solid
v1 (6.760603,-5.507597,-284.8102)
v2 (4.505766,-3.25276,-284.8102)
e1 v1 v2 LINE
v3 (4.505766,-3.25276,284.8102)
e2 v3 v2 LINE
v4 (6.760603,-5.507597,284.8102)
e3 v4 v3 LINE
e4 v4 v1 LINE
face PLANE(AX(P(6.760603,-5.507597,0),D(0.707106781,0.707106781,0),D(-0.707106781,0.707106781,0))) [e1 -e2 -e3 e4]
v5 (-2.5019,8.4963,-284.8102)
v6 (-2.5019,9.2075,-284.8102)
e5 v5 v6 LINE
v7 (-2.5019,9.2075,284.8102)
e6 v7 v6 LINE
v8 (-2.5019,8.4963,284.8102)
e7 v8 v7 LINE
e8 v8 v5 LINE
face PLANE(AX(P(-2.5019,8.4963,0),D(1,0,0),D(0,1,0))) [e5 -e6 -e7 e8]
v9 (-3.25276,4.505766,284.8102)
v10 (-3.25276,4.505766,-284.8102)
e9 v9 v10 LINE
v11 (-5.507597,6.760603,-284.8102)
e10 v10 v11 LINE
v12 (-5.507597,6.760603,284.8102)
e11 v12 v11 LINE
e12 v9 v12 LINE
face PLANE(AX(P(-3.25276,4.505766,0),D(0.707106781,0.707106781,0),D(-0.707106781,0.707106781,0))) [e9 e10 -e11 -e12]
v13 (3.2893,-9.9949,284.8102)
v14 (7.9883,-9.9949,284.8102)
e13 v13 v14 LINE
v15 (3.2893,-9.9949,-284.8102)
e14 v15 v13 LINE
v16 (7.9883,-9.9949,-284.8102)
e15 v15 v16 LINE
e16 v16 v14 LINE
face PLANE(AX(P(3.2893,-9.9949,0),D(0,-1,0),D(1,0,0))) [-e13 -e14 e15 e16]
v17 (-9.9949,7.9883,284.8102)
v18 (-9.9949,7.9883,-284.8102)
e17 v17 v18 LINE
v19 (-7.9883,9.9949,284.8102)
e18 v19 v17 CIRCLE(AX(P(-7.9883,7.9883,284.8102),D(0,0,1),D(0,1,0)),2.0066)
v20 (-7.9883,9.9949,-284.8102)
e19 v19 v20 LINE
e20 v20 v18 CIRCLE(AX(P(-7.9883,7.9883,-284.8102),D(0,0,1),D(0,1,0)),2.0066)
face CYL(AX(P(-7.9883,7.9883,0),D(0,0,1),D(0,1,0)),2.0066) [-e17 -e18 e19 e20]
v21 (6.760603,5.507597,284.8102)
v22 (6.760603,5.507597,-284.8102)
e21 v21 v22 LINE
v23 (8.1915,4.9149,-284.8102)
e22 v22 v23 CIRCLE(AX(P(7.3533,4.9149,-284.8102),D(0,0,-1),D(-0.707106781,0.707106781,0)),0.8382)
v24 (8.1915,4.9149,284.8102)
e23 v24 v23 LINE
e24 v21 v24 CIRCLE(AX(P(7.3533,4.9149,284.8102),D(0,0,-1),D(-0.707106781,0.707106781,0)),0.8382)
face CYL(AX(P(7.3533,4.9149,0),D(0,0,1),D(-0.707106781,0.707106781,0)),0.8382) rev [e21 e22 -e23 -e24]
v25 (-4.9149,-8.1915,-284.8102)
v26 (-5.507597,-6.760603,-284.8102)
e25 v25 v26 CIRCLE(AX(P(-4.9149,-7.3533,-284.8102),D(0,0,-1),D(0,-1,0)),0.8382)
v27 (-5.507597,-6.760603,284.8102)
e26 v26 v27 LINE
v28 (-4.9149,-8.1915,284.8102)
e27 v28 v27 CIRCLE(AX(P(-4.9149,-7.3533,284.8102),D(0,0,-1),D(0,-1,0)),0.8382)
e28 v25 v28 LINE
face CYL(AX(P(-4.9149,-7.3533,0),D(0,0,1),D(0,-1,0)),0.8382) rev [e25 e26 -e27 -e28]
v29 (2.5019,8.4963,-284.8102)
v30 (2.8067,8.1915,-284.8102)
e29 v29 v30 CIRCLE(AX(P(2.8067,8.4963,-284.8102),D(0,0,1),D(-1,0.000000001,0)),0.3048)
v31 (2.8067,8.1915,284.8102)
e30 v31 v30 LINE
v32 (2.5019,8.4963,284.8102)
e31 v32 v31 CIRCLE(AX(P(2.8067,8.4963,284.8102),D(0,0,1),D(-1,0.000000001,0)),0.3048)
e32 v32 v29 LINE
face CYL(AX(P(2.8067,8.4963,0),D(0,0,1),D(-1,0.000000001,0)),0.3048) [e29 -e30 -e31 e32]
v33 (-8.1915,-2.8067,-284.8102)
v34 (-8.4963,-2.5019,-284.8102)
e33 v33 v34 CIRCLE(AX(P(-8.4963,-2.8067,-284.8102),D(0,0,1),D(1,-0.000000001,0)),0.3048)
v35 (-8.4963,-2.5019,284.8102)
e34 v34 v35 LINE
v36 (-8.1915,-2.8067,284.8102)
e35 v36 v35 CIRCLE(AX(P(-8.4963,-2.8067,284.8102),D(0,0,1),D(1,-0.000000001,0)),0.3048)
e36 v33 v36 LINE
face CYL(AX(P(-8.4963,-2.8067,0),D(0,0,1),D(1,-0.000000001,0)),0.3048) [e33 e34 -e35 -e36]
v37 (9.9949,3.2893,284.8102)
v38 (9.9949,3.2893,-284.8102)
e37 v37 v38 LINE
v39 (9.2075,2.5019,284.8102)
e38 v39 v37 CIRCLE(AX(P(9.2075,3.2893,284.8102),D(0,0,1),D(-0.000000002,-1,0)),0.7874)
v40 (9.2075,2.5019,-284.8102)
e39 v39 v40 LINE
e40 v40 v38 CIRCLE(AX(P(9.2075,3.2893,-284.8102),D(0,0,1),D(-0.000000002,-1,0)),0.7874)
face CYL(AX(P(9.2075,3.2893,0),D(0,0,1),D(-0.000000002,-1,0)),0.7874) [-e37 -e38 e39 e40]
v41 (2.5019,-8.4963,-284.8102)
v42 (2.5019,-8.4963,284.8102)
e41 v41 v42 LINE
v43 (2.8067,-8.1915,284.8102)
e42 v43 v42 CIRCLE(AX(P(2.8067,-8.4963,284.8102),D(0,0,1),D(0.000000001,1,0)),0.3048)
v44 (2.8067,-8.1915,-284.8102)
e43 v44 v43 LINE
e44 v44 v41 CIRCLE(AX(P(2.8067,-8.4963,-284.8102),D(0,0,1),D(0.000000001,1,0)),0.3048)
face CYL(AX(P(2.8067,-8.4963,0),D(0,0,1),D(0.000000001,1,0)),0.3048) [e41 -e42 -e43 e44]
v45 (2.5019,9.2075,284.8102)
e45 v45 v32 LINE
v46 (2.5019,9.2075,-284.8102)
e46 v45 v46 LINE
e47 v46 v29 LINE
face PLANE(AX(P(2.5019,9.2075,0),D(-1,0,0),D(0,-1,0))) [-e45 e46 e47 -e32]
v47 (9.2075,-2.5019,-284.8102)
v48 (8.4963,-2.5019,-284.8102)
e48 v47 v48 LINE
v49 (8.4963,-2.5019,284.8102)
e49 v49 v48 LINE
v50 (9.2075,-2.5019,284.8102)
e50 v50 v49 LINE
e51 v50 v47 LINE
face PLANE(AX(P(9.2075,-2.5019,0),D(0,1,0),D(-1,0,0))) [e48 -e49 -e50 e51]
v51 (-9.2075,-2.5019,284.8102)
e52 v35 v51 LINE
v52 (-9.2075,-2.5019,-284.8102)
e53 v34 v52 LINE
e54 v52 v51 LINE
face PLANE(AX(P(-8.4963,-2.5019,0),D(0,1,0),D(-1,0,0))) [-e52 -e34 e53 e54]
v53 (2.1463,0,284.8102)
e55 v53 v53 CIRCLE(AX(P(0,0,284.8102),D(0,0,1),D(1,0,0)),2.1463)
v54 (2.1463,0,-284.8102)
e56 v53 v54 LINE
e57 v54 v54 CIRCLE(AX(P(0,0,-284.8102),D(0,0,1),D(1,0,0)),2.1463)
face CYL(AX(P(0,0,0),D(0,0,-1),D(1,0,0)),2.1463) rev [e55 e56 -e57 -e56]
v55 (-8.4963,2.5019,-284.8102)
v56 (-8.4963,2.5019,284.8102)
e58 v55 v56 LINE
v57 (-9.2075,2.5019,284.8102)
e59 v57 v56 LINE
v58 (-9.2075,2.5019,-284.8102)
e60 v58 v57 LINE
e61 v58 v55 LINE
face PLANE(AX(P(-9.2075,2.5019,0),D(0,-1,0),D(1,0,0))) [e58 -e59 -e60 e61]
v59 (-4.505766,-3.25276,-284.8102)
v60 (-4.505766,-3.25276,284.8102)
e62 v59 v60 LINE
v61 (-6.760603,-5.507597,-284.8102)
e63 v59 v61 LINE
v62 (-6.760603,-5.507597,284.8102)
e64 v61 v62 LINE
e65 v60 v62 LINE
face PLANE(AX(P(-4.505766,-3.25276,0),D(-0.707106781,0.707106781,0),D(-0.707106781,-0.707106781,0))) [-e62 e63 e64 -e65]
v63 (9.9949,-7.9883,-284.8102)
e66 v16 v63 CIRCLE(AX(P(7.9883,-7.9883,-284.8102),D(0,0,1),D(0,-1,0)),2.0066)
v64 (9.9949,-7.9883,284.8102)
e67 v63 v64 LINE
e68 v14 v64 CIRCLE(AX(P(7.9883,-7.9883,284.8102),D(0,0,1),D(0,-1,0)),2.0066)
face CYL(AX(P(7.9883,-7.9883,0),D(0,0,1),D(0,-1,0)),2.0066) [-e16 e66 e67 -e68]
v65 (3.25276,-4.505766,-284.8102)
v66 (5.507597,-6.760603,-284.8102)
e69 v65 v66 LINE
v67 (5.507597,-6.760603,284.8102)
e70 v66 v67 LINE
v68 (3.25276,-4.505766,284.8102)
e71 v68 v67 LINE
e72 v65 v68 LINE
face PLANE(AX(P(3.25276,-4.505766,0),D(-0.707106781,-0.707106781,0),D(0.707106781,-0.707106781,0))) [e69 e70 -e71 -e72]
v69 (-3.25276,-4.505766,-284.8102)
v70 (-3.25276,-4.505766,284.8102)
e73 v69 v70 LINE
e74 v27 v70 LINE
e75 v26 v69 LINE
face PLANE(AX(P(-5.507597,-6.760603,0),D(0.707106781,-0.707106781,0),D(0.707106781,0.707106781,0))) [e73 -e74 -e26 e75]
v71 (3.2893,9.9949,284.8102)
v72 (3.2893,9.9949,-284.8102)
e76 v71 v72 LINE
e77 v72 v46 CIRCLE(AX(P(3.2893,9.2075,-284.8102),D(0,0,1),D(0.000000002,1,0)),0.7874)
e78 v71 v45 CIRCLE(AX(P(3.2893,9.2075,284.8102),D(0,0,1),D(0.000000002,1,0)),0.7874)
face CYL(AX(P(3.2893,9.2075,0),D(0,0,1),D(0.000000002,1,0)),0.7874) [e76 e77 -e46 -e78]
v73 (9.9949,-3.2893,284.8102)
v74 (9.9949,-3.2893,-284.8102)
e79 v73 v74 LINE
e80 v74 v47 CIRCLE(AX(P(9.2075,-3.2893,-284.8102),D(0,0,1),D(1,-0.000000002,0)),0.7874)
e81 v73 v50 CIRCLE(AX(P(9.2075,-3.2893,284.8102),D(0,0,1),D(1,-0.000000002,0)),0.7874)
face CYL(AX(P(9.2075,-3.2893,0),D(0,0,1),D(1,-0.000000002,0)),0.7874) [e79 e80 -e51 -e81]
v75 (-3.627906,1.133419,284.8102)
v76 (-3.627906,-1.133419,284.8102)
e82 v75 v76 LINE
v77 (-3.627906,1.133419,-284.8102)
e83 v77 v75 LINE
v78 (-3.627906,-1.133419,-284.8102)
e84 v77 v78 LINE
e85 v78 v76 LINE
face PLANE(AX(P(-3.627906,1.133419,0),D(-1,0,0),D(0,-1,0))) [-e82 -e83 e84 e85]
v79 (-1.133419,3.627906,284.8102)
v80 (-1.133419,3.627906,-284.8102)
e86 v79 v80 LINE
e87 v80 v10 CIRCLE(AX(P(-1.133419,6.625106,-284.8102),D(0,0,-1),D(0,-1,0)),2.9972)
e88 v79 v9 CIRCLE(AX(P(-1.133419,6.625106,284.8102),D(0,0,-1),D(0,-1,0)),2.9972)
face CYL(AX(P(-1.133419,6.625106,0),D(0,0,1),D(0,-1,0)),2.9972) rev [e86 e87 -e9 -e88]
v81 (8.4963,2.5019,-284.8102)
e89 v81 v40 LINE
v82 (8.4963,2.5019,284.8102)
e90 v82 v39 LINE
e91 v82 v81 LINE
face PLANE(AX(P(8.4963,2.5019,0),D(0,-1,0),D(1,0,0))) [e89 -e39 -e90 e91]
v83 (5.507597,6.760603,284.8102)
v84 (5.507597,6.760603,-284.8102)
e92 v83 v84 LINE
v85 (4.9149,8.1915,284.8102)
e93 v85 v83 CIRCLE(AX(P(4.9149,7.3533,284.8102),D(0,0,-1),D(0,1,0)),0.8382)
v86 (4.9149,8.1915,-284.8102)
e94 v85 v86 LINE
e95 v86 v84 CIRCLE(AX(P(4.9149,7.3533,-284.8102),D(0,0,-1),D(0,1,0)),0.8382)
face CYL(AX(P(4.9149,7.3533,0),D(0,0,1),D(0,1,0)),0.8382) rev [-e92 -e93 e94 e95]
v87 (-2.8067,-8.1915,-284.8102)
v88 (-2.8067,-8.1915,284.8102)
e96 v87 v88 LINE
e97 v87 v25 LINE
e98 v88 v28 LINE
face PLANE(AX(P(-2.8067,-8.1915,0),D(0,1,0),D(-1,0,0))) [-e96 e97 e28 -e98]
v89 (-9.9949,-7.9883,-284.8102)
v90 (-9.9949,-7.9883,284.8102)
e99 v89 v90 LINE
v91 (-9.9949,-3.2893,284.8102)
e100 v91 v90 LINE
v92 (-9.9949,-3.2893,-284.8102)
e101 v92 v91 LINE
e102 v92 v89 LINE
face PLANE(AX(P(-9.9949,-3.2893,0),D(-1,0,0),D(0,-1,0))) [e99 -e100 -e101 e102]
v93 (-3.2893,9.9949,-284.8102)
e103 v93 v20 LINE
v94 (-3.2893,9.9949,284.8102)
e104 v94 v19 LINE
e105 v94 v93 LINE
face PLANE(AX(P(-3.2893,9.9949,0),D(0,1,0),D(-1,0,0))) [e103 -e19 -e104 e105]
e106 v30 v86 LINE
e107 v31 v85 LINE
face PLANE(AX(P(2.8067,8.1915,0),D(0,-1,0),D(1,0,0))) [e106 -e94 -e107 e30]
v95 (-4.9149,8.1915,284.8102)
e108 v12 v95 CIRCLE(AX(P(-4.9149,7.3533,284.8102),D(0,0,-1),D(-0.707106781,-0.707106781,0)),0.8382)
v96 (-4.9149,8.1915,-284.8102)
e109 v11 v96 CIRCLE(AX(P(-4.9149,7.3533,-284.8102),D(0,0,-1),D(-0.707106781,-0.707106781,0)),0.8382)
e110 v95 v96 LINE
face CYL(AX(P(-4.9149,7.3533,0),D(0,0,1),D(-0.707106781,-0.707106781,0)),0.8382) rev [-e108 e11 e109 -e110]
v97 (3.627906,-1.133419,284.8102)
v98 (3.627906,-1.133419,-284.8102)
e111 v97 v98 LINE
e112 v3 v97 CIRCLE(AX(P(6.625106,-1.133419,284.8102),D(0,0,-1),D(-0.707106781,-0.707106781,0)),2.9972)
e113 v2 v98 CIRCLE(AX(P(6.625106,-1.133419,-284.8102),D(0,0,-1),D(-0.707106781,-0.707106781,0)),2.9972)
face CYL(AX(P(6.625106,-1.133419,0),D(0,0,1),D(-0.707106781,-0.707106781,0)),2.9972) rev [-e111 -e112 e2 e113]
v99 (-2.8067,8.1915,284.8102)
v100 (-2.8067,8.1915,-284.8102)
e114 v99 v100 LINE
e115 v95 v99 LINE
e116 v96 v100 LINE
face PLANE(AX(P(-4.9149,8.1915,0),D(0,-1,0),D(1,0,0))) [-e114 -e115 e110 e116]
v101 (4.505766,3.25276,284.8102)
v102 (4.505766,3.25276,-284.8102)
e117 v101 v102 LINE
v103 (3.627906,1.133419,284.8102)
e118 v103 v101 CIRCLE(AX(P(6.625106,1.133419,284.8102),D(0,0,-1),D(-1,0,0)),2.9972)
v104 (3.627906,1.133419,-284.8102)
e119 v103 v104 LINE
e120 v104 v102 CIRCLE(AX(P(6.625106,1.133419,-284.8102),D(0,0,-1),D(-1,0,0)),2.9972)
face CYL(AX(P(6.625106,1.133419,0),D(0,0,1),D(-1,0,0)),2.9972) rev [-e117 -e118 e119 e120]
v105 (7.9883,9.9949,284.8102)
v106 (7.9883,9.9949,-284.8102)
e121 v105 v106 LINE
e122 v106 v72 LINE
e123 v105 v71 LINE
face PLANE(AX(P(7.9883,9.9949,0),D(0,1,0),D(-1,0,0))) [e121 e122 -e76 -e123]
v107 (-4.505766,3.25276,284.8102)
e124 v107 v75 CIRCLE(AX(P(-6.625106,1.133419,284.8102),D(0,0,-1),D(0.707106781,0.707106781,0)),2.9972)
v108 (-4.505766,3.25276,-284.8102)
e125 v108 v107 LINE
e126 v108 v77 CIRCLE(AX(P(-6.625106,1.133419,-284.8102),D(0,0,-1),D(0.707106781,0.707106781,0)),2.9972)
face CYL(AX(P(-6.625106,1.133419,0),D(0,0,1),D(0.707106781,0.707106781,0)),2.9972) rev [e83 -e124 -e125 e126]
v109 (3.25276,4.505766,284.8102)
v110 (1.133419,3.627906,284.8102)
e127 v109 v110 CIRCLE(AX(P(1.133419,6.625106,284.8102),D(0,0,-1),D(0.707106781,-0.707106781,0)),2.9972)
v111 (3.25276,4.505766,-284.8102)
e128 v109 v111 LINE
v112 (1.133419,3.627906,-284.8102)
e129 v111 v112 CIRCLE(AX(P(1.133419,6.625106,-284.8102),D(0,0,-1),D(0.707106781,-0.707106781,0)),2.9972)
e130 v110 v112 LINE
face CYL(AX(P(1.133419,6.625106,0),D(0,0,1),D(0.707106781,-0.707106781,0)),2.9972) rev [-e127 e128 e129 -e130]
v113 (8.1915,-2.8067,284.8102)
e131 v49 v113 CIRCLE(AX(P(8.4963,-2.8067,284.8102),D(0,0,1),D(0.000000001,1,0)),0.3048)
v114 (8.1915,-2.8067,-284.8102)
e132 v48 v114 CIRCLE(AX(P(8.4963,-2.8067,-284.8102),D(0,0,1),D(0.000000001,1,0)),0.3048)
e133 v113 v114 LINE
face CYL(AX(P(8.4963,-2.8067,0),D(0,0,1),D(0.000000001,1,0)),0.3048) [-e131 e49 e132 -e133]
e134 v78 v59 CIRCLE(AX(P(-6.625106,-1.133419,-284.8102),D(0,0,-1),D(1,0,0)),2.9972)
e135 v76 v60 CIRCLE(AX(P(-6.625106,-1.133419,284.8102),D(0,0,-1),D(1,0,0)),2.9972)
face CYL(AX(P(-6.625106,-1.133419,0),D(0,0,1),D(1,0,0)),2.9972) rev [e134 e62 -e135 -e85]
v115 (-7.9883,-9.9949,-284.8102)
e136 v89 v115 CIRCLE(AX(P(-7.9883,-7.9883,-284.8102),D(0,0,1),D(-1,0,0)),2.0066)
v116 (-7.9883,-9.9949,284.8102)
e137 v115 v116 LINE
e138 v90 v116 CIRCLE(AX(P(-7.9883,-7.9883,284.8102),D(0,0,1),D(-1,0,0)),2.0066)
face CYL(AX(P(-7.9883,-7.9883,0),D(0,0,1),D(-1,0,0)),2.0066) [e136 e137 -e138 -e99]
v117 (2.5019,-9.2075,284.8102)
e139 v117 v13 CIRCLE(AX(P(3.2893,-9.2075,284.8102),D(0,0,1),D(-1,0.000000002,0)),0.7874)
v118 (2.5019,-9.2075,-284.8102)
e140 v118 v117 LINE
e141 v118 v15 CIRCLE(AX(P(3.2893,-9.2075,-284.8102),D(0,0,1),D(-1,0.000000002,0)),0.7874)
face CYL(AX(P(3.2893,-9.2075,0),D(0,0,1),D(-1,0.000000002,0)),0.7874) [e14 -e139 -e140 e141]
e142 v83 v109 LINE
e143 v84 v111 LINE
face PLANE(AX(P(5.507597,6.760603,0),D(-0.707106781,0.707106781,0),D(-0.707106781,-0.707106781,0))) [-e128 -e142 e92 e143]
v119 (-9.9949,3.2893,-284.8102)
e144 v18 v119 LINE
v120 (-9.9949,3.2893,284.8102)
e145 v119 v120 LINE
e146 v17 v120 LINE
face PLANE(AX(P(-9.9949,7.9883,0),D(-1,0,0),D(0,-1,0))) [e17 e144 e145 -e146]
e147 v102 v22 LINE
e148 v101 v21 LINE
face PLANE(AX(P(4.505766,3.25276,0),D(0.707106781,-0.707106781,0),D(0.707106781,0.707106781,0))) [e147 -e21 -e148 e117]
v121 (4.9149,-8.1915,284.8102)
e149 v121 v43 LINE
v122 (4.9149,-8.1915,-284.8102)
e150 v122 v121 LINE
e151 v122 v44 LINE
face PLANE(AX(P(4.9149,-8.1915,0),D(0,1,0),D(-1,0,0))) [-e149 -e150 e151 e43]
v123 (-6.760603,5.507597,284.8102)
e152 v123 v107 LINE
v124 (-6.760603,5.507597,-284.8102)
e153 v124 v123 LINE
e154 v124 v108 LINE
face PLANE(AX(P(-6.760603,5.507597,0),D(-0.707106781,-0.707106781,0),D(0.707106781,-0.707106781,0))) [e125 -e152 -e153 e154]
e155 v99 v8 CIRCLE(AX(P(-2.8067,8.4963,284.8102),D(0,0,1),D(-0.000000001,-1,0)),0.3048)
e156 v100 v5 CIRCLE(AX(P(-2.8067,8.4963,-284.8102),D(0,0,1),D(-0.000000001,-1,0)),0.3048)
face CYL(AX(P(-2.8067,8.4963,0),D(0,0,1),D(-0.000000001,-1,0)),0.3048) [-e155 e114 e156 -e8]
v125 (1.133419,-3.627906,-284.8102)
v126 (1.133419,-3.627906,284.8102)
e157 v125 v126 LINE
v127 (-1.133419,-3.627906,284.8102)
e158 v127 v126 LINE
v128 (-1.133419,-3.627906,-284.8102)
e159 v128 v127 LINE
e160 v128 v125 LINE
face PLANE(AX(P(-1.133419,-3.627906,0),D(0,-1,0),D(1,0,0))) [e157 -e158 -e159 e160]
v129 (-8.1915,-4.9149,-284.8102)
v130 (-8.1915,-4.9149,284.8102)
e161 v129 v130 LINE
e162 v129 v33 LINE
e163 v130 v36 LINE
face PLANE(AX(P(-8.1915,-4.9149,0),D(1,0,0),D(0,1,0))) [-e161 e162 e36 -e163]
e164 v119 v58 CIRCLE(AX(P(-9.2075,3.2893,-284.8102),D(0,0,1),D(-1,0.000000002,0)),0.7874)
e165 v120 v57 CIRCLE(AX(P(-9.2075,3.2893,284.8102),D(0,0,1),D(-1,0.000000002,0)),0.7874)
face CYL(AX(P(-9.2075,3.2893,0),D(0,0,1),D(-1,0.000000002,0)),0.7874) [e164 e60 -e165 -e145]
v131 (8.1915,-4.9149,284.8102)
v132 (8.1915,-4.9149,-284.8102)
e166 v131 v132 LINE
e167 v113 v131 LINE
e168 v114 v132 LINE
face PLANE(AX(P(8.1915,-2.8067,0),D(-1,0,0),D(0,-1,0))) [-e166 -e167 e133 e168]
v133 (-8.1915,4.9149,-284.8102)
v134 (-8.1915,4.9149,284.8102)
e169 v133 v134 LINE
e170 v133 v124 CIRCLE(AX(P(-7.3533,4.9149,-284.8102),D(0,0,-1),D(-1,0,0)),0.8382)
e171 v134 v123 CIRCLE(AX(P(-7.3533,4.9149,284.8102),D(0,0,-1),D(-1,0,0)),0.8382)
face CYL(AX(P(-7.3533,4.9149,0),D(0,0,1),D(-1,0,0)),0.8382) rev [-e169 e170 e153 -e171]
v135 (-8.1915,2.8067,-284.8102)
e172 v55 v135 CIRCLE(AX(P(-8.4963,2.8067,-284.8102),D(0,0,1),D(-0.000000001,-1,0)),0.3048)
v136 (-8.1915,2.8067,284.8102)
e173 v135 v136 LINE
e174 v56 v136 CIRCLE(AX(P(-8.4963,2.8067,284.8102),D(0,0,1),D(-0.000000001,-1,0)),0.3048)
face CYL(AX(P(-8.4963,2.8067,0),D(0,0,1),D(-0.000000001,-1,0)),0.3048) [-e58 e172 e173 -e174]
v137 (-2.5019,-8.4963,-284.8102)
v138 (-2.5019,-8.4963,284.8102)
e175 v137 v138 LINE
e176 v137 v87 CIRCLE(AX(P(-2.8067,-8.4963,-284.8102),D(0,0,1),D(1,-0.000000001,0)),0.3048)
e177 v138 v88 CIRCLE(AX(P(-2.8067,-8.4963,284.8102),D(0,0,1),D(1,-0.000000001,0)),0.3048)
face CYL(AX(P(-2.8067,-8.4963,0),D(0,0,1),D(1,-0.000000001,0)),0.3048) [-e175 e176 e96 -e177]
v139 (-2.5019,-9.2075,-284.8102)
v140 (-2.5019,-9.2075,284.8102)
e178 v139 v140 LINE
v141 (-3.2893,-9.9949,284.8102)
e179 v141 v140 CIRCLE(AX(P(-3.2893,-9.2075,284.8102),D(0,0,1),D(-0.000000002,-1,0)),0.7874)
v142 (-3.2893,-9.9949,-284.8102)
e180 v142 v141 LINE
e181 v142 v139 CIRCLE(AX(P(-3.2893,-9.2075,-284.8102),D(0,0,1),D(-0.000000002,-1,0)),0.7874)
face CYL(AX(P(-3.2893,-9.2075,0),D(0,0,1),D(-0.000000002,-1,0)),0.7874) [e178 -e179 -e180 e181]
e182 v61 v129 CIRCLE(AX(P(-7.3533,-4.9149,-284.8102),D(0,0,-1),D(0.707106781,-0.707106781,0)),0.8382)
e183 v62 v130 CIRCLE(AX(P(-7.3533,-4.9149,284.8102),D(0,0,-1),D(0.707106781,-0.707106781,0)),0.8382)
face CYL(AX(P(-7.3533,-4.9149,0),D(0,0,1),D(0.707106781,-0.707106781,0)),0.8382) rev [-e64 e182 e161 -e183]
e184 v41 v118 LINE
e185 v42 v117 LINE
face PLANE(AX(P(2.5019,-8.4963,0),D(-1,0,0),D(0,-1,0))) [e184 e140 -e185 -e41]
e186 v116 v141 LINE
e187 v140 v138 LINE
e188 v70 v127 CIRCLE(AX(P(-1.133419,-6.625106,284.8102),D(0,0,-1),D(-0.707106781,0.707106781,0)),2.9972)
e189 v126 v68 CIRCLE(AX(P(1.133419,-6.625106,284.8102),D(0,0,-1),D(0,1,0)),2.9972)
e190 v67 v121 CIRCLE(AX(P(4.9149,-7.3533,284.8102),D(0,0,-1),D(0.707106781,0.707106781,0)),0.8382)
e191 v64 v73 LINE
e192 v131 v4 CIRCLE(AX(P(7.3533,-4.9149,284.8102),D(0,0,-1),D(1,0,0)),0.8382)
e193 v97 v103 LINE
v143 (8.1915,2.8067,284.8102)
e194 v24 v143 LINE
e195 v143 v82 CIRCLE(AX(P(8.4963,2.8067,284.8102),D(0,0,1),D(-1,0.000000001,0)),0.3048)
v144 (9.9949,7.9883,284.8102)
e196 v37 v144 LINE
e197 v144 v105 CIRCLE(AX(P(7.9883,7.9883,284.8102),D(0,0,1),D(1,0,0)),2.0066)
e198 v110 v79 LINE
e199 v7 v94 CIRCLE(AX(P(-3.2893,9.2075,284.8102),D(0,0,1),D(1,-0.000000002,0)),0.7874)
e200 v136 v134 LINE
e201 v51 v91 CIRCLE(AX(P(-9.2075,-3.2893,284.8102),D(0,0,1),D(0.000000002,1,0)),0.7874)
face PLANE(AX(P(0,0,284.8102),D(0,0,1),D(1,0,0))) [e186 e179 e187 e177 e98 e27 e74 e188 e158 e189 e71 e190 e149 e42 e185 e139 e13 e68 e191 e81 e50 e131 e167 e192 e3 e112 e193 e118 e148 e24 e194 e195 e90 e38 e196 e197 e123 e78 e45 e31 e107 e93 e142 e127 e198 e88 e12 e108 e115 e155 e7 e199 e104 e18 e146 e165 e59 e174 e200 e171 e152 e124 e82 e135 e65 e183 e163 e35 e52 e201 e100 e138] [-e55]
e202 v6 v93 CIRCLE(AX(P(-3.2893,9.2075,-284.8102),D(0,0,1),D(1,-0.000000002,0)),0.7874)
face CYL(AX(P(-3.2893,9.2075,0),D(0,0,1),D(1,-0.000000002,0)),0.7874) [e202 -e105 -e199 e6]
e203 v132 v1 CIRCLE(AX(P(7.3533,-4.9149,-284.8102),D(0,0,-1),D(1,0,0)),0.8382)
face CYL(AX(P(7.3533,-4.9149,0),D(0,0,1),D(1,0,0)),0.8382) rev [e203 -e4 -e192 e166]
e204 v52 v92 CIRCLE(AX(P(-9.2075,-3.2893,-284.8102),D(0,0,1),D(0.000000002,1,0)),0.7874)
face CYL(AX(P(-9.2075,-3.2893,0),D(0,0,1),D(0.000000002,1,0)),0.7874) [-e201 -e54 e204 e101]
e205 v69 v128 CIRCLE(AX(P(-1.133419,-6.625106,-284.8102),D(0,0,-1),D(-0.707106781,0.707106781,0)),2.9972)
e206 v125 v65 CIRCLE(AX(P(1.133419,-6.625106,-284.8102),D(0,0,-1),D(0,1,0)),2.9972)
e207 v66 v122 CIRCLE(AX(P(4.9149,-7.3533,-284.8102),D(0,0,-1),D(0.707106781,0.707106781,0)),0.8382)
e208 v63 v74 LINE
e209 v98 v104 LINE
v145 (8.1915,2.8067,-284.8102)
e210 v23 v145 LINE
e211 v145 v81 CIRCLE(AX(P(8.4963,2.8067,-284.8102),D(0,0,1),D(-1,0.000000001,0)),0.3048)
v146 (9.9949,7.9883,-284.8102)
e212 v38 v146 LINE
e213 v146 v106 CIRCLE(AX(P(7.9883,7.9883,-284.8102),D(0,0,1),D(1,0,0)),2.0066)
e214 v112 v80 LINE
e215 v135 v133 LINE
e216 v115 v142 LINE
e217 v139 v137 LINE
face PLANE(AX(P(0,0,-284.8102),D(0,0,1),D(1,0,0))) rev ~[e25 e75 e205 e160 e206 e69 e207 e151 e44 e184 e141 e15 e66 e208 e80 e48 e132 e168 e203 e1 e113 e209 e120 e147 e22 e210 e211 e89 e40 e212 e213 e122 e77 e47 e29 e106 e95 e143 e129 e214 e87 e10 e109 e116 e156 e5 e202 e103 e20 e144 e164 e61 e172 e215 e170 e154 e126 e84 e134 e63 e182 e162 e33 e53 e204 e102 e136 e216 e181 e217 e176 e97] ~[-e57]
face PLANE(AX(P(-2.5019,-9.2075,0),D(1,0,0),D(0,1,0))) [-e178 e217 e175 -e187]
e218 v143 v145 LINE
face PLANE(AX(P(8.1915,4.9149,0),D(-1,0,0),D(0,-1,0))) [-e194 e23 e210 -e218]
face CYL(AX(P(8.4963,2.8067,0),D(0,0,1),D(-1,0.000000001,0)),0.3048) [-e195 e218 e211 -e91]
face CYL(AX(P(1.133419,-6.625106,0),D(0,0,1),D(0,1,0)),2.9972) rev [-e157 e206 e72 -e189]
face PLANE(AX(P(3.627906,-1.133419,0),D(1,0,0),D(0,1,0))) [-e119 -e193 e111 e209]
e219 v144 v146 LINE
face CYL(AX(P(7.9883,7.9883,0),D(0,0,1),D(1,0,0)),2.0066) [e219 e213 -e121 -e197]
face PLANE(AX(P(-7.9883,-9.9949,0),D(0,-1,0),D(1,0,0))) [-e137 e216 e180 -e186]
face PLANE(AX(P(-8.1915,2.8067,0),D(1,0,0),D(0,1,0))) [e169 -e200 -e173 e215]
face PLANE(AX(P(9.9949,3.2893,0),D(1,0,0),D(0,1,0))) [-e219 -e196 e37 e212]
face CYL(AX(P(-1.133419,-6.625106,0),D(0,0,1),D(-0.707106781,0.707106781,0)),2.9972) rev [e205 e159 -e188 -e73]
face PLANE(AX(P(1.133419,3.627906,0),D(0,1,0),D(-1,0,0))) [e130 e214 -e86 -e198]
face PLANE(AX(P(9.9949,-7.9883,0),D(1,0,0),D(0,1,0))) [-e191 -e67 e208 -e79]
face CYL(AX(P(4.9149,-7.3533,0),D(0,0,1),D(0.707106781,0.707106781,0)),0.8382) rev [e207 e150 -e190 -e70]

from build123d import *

# Parameters (mm, degrees)
SKETCH1_R           = 2.1463
BOSS_EXTRUDE1_DEPTH = 284.8102


with BuildPart() as part:
    # Sketch1 → Boss-Extrude1 (new, symmetric)
    with BuildSketch(Plane.XY):
        with BuildLine():
            Line((-9.9949, 7.9883), (-9.9949, 3.2893))
            ThreePointArc((-9.9949, 3.2893), (-9.76427588, 2.73252412), (-9.2075, 2.5019))
            Line((-9.2075, 2.5019), (-8.4963, 2.5019))
            ThreePointArc((-8.4963, 2.5019), (-8.280773853, 2.591173853), (-8.1915, 2.8067))
            Line((-8.1915, 2.8067), (-8.1915, 4.9149))
            ThreePointArc((-8.1915, 4.9149), (-7.674065253, 5.689295824), (-6.760603096, 5.507596904))
            Line((-6.760603096, 5.507596904), (-4.505765747, 3.252759555))
            ThreePointArc((-4.505765747, 3.252759555), (-3.856054457, 2.280397894), (-3.627906192, 1.133419111))
            Line((-3.627906192, 1.133419111), (-3.627906192, -1.133419111))
            ThreePointArc((-3.627906192, -1.133419111), (-3.856054457, -2.280397894), (-4.505765747, -3.252759555))
            Line((-4.505765747, -3.252759555), (-6.760603096, -5.507596904))
            ThreePointArc((-6.760603096, -5.507596904), (-7.674065253, -5.689295824), (-8.1915, -4.9149))
            Line((-8.1915, -4.9149), (-8.1915, -2.8067))
            ThreePointArc((-8.1915, -2.8067), (-8.280773853, -2.591173853), (-8.4963, -2.5019))
            Line((-8.4963, -2.5019), (-9.2075, -2.5019))
            ThreePointArc((-9.2075, -2.5019), (-9.76427588, -2.73252412), (-9.9949, -3.2893))
            Line((-9.9949, -3.2893), (-9.9949, -7.9883))
            ThreePointArc((-9.9949, -7.9883), (-9.407180467, -9.407180467), (-7.9883, -9.9949))
            Line((-7.9883, -9.9949), (-3.2893, -9.9949))
            ThreePointArc((-3.2893, -9.9949), (-2.73252412, -9.76427588), (-2.5019, -9.2075))
            Line((-2.5019, -9.2075), (-2.5019, -8.4963))
            ThreePointArc((-2.5019, -8.4963), (-2.591173853, -8.280773853), (-2.8067, -8.1915))
            Line((-2.8067, -8.1915), (-4.9149, -8.1915))
            ThreePointArc((-4.9149, -8.1915), (-5.689295824, -7.674065253), (-5.507596904, -6.760603096))
            Line((-5.507596904, -6.760603096), (-3.252759555, -4.505765747))
            ThreePointArc((-3.252759555, -4.505765747), (-2.280397894, -3.856054457), (-1.133419111, -3.627906192))
            Line((-1.133419111, -3.627906192), (1.133419111, -3.627906192))
            ThreePointArc((1.133419111, -3.627906192), (2.280397894, -3.856054457), (3.252759555, -4.505765747))
            Line((3.252759555, -4.505765747), (5.507596904, -6.760603096))
            ThreePointArc((5.507596904, -6.760603096), (5.689295824, -7.674065253), (4.9149, -8.1915))
            Line((4.9149, -8.1915), (2.8067, -8.1915))
            ThreePointArc((2.8067, -8.1915), (2.591173853, -8.280773853), (2.5019, -8.4963))
            Line((2.5019, -8.4963), (2.5019, -9.2075))
            ThreePointArc((2.5019, -9.2075), (2.73252412, -9.76427588), (3.2893, -9.9949))
            Line((3.2893, -9.9949), (7.9883, -9.9949))
            ThreePointArc((7.9883, -9.9949), (9.407180467, -9.407180467), (9.9949, -7.9883))
            Line((9.9949, -7.9883), (9.9949, -3.2893))
            ThreePointArc((9.9949, -3.2893), (9.76427588, -2.73252412), (9.2075, -2.5019))
            Line((9.2075, -2.5019), (8.4963, -2.5019))
            ThreePointArc((8.4963, -2.5019), (8.280773853, -2.591173853), (8.1915, -2.8067))
            Line((8.1915, -2.8067), (8.1915, -4.9149))
            ThreePointArc((8.1915, -4.9149), (7.674065253, -5.689295824), (6.760603096, -5.507596904))
            Line((6.760603096, -5.507596904), (4.505765747, -3.252759555))
            ThreePointArc((4.505765747, -3.252759555), (3.856054457, -2.280397894), (3.627906192, -1.133419111))
            Line((3.627906192, -1.133419111), (3.627906192, 1.133419111))
            ThreePointArc((3.627906192, 1.133419111), (3.856054457, 2.280397894), (4.505765747, 3.252759555))
            Line((4.505765747, 3.252759555), (6.760603096, 5.507596904))
            ThreePointArc((6.760603096, 5.507596904), (7.674065253, 5.689295824), (8.1915, 4.9149))
            Line((8.1915, 4.9149), (8.1915, 2.8067))
            ThreePointArc((8.1915, 2.8067), (8.280773853, 2.591173853), (8.4963, 2.5019))
            Line((8.4963, 2.5019), (9.2075, 2.5019))
            ThreePointArc((9.2075, 2.5019), (9.76427588, 2.73252412), (9.9949, 3.2893))
            Line((9.9949, 3.2893), (9.9949, 7.9883))
            ThreePointArc((9.9949, 7.9883), (9.407180467, 9.407180467), (7.9883, 9.9949))
            Line((7.9883, 9.9949), (3.2893, 9.9949))
            ThreePointArc((3.2893, 9.9949), (2.73252412, 9.76427588), (2.5019, 9.2075))
            Line((2.5019, 9.2075), (2.5019, 8.4963))
            ThreePointArc((2.5019, 8.4963), (2.591173853, 8.280773853), (2.8067, 8.1915))
            Line((2.8067, 8.1915), (4.9149, 8.1915))
            ThreePointArc((4.9149, 8.1915), (5.689295824, 7.674065253), (5.507596904, 6.760603096))
            Line((5.507596904, 6.760603096), (3.252759555, 4.505765747))
            ThreePointArc((3.252759555, 4.505765747), (2.280397894, 3.856054457), (1.133419111, 3.627906192))
            Line((1.133419111, 3.627906192), (-1.133419111, 3.627906192))
            ThreePointArc((-1.133419111, 3.627906192), (-2.280397894, 3.856054457), (-3.252759555, 4.505765747))
            Line((-3.252759555, 4.505765747), (-5.507596904, 6.760603096))
            ThreePointArc((-5.507596904, 6.760603096), (-5.689295824, 7.674065253), (-4.9149, 8.1915))
            Line((-4.9149, 8.1915), (-2.8067, 8.1915))
            ThreePointArc((-2.8067, 8.1915), (-2.591173853, 8.280773853), (-2.5019, 8.4963))
            Line((-2.5019, 8.4963), (-2.5019, 9.2075))
            ThreePointArc((-2.5019, 9.2075), (-2.73252412, 9.76427588), (-3.2893, 9.9949))
            Line((-3.2893, 9.9949), (-7.9883, 9.9949))
            ThreePointArc((-7.9883, 9.9949), (-9.407180467, 9.407180467), (-9.9949, 7.9883))
        make_face()
        Circle(SKETCH1_R, mode=Mode.SUBTRACT)
    extrude(amount=BOSS_EXTRUDE1_DEPTH, both=True)


solid = part.part
